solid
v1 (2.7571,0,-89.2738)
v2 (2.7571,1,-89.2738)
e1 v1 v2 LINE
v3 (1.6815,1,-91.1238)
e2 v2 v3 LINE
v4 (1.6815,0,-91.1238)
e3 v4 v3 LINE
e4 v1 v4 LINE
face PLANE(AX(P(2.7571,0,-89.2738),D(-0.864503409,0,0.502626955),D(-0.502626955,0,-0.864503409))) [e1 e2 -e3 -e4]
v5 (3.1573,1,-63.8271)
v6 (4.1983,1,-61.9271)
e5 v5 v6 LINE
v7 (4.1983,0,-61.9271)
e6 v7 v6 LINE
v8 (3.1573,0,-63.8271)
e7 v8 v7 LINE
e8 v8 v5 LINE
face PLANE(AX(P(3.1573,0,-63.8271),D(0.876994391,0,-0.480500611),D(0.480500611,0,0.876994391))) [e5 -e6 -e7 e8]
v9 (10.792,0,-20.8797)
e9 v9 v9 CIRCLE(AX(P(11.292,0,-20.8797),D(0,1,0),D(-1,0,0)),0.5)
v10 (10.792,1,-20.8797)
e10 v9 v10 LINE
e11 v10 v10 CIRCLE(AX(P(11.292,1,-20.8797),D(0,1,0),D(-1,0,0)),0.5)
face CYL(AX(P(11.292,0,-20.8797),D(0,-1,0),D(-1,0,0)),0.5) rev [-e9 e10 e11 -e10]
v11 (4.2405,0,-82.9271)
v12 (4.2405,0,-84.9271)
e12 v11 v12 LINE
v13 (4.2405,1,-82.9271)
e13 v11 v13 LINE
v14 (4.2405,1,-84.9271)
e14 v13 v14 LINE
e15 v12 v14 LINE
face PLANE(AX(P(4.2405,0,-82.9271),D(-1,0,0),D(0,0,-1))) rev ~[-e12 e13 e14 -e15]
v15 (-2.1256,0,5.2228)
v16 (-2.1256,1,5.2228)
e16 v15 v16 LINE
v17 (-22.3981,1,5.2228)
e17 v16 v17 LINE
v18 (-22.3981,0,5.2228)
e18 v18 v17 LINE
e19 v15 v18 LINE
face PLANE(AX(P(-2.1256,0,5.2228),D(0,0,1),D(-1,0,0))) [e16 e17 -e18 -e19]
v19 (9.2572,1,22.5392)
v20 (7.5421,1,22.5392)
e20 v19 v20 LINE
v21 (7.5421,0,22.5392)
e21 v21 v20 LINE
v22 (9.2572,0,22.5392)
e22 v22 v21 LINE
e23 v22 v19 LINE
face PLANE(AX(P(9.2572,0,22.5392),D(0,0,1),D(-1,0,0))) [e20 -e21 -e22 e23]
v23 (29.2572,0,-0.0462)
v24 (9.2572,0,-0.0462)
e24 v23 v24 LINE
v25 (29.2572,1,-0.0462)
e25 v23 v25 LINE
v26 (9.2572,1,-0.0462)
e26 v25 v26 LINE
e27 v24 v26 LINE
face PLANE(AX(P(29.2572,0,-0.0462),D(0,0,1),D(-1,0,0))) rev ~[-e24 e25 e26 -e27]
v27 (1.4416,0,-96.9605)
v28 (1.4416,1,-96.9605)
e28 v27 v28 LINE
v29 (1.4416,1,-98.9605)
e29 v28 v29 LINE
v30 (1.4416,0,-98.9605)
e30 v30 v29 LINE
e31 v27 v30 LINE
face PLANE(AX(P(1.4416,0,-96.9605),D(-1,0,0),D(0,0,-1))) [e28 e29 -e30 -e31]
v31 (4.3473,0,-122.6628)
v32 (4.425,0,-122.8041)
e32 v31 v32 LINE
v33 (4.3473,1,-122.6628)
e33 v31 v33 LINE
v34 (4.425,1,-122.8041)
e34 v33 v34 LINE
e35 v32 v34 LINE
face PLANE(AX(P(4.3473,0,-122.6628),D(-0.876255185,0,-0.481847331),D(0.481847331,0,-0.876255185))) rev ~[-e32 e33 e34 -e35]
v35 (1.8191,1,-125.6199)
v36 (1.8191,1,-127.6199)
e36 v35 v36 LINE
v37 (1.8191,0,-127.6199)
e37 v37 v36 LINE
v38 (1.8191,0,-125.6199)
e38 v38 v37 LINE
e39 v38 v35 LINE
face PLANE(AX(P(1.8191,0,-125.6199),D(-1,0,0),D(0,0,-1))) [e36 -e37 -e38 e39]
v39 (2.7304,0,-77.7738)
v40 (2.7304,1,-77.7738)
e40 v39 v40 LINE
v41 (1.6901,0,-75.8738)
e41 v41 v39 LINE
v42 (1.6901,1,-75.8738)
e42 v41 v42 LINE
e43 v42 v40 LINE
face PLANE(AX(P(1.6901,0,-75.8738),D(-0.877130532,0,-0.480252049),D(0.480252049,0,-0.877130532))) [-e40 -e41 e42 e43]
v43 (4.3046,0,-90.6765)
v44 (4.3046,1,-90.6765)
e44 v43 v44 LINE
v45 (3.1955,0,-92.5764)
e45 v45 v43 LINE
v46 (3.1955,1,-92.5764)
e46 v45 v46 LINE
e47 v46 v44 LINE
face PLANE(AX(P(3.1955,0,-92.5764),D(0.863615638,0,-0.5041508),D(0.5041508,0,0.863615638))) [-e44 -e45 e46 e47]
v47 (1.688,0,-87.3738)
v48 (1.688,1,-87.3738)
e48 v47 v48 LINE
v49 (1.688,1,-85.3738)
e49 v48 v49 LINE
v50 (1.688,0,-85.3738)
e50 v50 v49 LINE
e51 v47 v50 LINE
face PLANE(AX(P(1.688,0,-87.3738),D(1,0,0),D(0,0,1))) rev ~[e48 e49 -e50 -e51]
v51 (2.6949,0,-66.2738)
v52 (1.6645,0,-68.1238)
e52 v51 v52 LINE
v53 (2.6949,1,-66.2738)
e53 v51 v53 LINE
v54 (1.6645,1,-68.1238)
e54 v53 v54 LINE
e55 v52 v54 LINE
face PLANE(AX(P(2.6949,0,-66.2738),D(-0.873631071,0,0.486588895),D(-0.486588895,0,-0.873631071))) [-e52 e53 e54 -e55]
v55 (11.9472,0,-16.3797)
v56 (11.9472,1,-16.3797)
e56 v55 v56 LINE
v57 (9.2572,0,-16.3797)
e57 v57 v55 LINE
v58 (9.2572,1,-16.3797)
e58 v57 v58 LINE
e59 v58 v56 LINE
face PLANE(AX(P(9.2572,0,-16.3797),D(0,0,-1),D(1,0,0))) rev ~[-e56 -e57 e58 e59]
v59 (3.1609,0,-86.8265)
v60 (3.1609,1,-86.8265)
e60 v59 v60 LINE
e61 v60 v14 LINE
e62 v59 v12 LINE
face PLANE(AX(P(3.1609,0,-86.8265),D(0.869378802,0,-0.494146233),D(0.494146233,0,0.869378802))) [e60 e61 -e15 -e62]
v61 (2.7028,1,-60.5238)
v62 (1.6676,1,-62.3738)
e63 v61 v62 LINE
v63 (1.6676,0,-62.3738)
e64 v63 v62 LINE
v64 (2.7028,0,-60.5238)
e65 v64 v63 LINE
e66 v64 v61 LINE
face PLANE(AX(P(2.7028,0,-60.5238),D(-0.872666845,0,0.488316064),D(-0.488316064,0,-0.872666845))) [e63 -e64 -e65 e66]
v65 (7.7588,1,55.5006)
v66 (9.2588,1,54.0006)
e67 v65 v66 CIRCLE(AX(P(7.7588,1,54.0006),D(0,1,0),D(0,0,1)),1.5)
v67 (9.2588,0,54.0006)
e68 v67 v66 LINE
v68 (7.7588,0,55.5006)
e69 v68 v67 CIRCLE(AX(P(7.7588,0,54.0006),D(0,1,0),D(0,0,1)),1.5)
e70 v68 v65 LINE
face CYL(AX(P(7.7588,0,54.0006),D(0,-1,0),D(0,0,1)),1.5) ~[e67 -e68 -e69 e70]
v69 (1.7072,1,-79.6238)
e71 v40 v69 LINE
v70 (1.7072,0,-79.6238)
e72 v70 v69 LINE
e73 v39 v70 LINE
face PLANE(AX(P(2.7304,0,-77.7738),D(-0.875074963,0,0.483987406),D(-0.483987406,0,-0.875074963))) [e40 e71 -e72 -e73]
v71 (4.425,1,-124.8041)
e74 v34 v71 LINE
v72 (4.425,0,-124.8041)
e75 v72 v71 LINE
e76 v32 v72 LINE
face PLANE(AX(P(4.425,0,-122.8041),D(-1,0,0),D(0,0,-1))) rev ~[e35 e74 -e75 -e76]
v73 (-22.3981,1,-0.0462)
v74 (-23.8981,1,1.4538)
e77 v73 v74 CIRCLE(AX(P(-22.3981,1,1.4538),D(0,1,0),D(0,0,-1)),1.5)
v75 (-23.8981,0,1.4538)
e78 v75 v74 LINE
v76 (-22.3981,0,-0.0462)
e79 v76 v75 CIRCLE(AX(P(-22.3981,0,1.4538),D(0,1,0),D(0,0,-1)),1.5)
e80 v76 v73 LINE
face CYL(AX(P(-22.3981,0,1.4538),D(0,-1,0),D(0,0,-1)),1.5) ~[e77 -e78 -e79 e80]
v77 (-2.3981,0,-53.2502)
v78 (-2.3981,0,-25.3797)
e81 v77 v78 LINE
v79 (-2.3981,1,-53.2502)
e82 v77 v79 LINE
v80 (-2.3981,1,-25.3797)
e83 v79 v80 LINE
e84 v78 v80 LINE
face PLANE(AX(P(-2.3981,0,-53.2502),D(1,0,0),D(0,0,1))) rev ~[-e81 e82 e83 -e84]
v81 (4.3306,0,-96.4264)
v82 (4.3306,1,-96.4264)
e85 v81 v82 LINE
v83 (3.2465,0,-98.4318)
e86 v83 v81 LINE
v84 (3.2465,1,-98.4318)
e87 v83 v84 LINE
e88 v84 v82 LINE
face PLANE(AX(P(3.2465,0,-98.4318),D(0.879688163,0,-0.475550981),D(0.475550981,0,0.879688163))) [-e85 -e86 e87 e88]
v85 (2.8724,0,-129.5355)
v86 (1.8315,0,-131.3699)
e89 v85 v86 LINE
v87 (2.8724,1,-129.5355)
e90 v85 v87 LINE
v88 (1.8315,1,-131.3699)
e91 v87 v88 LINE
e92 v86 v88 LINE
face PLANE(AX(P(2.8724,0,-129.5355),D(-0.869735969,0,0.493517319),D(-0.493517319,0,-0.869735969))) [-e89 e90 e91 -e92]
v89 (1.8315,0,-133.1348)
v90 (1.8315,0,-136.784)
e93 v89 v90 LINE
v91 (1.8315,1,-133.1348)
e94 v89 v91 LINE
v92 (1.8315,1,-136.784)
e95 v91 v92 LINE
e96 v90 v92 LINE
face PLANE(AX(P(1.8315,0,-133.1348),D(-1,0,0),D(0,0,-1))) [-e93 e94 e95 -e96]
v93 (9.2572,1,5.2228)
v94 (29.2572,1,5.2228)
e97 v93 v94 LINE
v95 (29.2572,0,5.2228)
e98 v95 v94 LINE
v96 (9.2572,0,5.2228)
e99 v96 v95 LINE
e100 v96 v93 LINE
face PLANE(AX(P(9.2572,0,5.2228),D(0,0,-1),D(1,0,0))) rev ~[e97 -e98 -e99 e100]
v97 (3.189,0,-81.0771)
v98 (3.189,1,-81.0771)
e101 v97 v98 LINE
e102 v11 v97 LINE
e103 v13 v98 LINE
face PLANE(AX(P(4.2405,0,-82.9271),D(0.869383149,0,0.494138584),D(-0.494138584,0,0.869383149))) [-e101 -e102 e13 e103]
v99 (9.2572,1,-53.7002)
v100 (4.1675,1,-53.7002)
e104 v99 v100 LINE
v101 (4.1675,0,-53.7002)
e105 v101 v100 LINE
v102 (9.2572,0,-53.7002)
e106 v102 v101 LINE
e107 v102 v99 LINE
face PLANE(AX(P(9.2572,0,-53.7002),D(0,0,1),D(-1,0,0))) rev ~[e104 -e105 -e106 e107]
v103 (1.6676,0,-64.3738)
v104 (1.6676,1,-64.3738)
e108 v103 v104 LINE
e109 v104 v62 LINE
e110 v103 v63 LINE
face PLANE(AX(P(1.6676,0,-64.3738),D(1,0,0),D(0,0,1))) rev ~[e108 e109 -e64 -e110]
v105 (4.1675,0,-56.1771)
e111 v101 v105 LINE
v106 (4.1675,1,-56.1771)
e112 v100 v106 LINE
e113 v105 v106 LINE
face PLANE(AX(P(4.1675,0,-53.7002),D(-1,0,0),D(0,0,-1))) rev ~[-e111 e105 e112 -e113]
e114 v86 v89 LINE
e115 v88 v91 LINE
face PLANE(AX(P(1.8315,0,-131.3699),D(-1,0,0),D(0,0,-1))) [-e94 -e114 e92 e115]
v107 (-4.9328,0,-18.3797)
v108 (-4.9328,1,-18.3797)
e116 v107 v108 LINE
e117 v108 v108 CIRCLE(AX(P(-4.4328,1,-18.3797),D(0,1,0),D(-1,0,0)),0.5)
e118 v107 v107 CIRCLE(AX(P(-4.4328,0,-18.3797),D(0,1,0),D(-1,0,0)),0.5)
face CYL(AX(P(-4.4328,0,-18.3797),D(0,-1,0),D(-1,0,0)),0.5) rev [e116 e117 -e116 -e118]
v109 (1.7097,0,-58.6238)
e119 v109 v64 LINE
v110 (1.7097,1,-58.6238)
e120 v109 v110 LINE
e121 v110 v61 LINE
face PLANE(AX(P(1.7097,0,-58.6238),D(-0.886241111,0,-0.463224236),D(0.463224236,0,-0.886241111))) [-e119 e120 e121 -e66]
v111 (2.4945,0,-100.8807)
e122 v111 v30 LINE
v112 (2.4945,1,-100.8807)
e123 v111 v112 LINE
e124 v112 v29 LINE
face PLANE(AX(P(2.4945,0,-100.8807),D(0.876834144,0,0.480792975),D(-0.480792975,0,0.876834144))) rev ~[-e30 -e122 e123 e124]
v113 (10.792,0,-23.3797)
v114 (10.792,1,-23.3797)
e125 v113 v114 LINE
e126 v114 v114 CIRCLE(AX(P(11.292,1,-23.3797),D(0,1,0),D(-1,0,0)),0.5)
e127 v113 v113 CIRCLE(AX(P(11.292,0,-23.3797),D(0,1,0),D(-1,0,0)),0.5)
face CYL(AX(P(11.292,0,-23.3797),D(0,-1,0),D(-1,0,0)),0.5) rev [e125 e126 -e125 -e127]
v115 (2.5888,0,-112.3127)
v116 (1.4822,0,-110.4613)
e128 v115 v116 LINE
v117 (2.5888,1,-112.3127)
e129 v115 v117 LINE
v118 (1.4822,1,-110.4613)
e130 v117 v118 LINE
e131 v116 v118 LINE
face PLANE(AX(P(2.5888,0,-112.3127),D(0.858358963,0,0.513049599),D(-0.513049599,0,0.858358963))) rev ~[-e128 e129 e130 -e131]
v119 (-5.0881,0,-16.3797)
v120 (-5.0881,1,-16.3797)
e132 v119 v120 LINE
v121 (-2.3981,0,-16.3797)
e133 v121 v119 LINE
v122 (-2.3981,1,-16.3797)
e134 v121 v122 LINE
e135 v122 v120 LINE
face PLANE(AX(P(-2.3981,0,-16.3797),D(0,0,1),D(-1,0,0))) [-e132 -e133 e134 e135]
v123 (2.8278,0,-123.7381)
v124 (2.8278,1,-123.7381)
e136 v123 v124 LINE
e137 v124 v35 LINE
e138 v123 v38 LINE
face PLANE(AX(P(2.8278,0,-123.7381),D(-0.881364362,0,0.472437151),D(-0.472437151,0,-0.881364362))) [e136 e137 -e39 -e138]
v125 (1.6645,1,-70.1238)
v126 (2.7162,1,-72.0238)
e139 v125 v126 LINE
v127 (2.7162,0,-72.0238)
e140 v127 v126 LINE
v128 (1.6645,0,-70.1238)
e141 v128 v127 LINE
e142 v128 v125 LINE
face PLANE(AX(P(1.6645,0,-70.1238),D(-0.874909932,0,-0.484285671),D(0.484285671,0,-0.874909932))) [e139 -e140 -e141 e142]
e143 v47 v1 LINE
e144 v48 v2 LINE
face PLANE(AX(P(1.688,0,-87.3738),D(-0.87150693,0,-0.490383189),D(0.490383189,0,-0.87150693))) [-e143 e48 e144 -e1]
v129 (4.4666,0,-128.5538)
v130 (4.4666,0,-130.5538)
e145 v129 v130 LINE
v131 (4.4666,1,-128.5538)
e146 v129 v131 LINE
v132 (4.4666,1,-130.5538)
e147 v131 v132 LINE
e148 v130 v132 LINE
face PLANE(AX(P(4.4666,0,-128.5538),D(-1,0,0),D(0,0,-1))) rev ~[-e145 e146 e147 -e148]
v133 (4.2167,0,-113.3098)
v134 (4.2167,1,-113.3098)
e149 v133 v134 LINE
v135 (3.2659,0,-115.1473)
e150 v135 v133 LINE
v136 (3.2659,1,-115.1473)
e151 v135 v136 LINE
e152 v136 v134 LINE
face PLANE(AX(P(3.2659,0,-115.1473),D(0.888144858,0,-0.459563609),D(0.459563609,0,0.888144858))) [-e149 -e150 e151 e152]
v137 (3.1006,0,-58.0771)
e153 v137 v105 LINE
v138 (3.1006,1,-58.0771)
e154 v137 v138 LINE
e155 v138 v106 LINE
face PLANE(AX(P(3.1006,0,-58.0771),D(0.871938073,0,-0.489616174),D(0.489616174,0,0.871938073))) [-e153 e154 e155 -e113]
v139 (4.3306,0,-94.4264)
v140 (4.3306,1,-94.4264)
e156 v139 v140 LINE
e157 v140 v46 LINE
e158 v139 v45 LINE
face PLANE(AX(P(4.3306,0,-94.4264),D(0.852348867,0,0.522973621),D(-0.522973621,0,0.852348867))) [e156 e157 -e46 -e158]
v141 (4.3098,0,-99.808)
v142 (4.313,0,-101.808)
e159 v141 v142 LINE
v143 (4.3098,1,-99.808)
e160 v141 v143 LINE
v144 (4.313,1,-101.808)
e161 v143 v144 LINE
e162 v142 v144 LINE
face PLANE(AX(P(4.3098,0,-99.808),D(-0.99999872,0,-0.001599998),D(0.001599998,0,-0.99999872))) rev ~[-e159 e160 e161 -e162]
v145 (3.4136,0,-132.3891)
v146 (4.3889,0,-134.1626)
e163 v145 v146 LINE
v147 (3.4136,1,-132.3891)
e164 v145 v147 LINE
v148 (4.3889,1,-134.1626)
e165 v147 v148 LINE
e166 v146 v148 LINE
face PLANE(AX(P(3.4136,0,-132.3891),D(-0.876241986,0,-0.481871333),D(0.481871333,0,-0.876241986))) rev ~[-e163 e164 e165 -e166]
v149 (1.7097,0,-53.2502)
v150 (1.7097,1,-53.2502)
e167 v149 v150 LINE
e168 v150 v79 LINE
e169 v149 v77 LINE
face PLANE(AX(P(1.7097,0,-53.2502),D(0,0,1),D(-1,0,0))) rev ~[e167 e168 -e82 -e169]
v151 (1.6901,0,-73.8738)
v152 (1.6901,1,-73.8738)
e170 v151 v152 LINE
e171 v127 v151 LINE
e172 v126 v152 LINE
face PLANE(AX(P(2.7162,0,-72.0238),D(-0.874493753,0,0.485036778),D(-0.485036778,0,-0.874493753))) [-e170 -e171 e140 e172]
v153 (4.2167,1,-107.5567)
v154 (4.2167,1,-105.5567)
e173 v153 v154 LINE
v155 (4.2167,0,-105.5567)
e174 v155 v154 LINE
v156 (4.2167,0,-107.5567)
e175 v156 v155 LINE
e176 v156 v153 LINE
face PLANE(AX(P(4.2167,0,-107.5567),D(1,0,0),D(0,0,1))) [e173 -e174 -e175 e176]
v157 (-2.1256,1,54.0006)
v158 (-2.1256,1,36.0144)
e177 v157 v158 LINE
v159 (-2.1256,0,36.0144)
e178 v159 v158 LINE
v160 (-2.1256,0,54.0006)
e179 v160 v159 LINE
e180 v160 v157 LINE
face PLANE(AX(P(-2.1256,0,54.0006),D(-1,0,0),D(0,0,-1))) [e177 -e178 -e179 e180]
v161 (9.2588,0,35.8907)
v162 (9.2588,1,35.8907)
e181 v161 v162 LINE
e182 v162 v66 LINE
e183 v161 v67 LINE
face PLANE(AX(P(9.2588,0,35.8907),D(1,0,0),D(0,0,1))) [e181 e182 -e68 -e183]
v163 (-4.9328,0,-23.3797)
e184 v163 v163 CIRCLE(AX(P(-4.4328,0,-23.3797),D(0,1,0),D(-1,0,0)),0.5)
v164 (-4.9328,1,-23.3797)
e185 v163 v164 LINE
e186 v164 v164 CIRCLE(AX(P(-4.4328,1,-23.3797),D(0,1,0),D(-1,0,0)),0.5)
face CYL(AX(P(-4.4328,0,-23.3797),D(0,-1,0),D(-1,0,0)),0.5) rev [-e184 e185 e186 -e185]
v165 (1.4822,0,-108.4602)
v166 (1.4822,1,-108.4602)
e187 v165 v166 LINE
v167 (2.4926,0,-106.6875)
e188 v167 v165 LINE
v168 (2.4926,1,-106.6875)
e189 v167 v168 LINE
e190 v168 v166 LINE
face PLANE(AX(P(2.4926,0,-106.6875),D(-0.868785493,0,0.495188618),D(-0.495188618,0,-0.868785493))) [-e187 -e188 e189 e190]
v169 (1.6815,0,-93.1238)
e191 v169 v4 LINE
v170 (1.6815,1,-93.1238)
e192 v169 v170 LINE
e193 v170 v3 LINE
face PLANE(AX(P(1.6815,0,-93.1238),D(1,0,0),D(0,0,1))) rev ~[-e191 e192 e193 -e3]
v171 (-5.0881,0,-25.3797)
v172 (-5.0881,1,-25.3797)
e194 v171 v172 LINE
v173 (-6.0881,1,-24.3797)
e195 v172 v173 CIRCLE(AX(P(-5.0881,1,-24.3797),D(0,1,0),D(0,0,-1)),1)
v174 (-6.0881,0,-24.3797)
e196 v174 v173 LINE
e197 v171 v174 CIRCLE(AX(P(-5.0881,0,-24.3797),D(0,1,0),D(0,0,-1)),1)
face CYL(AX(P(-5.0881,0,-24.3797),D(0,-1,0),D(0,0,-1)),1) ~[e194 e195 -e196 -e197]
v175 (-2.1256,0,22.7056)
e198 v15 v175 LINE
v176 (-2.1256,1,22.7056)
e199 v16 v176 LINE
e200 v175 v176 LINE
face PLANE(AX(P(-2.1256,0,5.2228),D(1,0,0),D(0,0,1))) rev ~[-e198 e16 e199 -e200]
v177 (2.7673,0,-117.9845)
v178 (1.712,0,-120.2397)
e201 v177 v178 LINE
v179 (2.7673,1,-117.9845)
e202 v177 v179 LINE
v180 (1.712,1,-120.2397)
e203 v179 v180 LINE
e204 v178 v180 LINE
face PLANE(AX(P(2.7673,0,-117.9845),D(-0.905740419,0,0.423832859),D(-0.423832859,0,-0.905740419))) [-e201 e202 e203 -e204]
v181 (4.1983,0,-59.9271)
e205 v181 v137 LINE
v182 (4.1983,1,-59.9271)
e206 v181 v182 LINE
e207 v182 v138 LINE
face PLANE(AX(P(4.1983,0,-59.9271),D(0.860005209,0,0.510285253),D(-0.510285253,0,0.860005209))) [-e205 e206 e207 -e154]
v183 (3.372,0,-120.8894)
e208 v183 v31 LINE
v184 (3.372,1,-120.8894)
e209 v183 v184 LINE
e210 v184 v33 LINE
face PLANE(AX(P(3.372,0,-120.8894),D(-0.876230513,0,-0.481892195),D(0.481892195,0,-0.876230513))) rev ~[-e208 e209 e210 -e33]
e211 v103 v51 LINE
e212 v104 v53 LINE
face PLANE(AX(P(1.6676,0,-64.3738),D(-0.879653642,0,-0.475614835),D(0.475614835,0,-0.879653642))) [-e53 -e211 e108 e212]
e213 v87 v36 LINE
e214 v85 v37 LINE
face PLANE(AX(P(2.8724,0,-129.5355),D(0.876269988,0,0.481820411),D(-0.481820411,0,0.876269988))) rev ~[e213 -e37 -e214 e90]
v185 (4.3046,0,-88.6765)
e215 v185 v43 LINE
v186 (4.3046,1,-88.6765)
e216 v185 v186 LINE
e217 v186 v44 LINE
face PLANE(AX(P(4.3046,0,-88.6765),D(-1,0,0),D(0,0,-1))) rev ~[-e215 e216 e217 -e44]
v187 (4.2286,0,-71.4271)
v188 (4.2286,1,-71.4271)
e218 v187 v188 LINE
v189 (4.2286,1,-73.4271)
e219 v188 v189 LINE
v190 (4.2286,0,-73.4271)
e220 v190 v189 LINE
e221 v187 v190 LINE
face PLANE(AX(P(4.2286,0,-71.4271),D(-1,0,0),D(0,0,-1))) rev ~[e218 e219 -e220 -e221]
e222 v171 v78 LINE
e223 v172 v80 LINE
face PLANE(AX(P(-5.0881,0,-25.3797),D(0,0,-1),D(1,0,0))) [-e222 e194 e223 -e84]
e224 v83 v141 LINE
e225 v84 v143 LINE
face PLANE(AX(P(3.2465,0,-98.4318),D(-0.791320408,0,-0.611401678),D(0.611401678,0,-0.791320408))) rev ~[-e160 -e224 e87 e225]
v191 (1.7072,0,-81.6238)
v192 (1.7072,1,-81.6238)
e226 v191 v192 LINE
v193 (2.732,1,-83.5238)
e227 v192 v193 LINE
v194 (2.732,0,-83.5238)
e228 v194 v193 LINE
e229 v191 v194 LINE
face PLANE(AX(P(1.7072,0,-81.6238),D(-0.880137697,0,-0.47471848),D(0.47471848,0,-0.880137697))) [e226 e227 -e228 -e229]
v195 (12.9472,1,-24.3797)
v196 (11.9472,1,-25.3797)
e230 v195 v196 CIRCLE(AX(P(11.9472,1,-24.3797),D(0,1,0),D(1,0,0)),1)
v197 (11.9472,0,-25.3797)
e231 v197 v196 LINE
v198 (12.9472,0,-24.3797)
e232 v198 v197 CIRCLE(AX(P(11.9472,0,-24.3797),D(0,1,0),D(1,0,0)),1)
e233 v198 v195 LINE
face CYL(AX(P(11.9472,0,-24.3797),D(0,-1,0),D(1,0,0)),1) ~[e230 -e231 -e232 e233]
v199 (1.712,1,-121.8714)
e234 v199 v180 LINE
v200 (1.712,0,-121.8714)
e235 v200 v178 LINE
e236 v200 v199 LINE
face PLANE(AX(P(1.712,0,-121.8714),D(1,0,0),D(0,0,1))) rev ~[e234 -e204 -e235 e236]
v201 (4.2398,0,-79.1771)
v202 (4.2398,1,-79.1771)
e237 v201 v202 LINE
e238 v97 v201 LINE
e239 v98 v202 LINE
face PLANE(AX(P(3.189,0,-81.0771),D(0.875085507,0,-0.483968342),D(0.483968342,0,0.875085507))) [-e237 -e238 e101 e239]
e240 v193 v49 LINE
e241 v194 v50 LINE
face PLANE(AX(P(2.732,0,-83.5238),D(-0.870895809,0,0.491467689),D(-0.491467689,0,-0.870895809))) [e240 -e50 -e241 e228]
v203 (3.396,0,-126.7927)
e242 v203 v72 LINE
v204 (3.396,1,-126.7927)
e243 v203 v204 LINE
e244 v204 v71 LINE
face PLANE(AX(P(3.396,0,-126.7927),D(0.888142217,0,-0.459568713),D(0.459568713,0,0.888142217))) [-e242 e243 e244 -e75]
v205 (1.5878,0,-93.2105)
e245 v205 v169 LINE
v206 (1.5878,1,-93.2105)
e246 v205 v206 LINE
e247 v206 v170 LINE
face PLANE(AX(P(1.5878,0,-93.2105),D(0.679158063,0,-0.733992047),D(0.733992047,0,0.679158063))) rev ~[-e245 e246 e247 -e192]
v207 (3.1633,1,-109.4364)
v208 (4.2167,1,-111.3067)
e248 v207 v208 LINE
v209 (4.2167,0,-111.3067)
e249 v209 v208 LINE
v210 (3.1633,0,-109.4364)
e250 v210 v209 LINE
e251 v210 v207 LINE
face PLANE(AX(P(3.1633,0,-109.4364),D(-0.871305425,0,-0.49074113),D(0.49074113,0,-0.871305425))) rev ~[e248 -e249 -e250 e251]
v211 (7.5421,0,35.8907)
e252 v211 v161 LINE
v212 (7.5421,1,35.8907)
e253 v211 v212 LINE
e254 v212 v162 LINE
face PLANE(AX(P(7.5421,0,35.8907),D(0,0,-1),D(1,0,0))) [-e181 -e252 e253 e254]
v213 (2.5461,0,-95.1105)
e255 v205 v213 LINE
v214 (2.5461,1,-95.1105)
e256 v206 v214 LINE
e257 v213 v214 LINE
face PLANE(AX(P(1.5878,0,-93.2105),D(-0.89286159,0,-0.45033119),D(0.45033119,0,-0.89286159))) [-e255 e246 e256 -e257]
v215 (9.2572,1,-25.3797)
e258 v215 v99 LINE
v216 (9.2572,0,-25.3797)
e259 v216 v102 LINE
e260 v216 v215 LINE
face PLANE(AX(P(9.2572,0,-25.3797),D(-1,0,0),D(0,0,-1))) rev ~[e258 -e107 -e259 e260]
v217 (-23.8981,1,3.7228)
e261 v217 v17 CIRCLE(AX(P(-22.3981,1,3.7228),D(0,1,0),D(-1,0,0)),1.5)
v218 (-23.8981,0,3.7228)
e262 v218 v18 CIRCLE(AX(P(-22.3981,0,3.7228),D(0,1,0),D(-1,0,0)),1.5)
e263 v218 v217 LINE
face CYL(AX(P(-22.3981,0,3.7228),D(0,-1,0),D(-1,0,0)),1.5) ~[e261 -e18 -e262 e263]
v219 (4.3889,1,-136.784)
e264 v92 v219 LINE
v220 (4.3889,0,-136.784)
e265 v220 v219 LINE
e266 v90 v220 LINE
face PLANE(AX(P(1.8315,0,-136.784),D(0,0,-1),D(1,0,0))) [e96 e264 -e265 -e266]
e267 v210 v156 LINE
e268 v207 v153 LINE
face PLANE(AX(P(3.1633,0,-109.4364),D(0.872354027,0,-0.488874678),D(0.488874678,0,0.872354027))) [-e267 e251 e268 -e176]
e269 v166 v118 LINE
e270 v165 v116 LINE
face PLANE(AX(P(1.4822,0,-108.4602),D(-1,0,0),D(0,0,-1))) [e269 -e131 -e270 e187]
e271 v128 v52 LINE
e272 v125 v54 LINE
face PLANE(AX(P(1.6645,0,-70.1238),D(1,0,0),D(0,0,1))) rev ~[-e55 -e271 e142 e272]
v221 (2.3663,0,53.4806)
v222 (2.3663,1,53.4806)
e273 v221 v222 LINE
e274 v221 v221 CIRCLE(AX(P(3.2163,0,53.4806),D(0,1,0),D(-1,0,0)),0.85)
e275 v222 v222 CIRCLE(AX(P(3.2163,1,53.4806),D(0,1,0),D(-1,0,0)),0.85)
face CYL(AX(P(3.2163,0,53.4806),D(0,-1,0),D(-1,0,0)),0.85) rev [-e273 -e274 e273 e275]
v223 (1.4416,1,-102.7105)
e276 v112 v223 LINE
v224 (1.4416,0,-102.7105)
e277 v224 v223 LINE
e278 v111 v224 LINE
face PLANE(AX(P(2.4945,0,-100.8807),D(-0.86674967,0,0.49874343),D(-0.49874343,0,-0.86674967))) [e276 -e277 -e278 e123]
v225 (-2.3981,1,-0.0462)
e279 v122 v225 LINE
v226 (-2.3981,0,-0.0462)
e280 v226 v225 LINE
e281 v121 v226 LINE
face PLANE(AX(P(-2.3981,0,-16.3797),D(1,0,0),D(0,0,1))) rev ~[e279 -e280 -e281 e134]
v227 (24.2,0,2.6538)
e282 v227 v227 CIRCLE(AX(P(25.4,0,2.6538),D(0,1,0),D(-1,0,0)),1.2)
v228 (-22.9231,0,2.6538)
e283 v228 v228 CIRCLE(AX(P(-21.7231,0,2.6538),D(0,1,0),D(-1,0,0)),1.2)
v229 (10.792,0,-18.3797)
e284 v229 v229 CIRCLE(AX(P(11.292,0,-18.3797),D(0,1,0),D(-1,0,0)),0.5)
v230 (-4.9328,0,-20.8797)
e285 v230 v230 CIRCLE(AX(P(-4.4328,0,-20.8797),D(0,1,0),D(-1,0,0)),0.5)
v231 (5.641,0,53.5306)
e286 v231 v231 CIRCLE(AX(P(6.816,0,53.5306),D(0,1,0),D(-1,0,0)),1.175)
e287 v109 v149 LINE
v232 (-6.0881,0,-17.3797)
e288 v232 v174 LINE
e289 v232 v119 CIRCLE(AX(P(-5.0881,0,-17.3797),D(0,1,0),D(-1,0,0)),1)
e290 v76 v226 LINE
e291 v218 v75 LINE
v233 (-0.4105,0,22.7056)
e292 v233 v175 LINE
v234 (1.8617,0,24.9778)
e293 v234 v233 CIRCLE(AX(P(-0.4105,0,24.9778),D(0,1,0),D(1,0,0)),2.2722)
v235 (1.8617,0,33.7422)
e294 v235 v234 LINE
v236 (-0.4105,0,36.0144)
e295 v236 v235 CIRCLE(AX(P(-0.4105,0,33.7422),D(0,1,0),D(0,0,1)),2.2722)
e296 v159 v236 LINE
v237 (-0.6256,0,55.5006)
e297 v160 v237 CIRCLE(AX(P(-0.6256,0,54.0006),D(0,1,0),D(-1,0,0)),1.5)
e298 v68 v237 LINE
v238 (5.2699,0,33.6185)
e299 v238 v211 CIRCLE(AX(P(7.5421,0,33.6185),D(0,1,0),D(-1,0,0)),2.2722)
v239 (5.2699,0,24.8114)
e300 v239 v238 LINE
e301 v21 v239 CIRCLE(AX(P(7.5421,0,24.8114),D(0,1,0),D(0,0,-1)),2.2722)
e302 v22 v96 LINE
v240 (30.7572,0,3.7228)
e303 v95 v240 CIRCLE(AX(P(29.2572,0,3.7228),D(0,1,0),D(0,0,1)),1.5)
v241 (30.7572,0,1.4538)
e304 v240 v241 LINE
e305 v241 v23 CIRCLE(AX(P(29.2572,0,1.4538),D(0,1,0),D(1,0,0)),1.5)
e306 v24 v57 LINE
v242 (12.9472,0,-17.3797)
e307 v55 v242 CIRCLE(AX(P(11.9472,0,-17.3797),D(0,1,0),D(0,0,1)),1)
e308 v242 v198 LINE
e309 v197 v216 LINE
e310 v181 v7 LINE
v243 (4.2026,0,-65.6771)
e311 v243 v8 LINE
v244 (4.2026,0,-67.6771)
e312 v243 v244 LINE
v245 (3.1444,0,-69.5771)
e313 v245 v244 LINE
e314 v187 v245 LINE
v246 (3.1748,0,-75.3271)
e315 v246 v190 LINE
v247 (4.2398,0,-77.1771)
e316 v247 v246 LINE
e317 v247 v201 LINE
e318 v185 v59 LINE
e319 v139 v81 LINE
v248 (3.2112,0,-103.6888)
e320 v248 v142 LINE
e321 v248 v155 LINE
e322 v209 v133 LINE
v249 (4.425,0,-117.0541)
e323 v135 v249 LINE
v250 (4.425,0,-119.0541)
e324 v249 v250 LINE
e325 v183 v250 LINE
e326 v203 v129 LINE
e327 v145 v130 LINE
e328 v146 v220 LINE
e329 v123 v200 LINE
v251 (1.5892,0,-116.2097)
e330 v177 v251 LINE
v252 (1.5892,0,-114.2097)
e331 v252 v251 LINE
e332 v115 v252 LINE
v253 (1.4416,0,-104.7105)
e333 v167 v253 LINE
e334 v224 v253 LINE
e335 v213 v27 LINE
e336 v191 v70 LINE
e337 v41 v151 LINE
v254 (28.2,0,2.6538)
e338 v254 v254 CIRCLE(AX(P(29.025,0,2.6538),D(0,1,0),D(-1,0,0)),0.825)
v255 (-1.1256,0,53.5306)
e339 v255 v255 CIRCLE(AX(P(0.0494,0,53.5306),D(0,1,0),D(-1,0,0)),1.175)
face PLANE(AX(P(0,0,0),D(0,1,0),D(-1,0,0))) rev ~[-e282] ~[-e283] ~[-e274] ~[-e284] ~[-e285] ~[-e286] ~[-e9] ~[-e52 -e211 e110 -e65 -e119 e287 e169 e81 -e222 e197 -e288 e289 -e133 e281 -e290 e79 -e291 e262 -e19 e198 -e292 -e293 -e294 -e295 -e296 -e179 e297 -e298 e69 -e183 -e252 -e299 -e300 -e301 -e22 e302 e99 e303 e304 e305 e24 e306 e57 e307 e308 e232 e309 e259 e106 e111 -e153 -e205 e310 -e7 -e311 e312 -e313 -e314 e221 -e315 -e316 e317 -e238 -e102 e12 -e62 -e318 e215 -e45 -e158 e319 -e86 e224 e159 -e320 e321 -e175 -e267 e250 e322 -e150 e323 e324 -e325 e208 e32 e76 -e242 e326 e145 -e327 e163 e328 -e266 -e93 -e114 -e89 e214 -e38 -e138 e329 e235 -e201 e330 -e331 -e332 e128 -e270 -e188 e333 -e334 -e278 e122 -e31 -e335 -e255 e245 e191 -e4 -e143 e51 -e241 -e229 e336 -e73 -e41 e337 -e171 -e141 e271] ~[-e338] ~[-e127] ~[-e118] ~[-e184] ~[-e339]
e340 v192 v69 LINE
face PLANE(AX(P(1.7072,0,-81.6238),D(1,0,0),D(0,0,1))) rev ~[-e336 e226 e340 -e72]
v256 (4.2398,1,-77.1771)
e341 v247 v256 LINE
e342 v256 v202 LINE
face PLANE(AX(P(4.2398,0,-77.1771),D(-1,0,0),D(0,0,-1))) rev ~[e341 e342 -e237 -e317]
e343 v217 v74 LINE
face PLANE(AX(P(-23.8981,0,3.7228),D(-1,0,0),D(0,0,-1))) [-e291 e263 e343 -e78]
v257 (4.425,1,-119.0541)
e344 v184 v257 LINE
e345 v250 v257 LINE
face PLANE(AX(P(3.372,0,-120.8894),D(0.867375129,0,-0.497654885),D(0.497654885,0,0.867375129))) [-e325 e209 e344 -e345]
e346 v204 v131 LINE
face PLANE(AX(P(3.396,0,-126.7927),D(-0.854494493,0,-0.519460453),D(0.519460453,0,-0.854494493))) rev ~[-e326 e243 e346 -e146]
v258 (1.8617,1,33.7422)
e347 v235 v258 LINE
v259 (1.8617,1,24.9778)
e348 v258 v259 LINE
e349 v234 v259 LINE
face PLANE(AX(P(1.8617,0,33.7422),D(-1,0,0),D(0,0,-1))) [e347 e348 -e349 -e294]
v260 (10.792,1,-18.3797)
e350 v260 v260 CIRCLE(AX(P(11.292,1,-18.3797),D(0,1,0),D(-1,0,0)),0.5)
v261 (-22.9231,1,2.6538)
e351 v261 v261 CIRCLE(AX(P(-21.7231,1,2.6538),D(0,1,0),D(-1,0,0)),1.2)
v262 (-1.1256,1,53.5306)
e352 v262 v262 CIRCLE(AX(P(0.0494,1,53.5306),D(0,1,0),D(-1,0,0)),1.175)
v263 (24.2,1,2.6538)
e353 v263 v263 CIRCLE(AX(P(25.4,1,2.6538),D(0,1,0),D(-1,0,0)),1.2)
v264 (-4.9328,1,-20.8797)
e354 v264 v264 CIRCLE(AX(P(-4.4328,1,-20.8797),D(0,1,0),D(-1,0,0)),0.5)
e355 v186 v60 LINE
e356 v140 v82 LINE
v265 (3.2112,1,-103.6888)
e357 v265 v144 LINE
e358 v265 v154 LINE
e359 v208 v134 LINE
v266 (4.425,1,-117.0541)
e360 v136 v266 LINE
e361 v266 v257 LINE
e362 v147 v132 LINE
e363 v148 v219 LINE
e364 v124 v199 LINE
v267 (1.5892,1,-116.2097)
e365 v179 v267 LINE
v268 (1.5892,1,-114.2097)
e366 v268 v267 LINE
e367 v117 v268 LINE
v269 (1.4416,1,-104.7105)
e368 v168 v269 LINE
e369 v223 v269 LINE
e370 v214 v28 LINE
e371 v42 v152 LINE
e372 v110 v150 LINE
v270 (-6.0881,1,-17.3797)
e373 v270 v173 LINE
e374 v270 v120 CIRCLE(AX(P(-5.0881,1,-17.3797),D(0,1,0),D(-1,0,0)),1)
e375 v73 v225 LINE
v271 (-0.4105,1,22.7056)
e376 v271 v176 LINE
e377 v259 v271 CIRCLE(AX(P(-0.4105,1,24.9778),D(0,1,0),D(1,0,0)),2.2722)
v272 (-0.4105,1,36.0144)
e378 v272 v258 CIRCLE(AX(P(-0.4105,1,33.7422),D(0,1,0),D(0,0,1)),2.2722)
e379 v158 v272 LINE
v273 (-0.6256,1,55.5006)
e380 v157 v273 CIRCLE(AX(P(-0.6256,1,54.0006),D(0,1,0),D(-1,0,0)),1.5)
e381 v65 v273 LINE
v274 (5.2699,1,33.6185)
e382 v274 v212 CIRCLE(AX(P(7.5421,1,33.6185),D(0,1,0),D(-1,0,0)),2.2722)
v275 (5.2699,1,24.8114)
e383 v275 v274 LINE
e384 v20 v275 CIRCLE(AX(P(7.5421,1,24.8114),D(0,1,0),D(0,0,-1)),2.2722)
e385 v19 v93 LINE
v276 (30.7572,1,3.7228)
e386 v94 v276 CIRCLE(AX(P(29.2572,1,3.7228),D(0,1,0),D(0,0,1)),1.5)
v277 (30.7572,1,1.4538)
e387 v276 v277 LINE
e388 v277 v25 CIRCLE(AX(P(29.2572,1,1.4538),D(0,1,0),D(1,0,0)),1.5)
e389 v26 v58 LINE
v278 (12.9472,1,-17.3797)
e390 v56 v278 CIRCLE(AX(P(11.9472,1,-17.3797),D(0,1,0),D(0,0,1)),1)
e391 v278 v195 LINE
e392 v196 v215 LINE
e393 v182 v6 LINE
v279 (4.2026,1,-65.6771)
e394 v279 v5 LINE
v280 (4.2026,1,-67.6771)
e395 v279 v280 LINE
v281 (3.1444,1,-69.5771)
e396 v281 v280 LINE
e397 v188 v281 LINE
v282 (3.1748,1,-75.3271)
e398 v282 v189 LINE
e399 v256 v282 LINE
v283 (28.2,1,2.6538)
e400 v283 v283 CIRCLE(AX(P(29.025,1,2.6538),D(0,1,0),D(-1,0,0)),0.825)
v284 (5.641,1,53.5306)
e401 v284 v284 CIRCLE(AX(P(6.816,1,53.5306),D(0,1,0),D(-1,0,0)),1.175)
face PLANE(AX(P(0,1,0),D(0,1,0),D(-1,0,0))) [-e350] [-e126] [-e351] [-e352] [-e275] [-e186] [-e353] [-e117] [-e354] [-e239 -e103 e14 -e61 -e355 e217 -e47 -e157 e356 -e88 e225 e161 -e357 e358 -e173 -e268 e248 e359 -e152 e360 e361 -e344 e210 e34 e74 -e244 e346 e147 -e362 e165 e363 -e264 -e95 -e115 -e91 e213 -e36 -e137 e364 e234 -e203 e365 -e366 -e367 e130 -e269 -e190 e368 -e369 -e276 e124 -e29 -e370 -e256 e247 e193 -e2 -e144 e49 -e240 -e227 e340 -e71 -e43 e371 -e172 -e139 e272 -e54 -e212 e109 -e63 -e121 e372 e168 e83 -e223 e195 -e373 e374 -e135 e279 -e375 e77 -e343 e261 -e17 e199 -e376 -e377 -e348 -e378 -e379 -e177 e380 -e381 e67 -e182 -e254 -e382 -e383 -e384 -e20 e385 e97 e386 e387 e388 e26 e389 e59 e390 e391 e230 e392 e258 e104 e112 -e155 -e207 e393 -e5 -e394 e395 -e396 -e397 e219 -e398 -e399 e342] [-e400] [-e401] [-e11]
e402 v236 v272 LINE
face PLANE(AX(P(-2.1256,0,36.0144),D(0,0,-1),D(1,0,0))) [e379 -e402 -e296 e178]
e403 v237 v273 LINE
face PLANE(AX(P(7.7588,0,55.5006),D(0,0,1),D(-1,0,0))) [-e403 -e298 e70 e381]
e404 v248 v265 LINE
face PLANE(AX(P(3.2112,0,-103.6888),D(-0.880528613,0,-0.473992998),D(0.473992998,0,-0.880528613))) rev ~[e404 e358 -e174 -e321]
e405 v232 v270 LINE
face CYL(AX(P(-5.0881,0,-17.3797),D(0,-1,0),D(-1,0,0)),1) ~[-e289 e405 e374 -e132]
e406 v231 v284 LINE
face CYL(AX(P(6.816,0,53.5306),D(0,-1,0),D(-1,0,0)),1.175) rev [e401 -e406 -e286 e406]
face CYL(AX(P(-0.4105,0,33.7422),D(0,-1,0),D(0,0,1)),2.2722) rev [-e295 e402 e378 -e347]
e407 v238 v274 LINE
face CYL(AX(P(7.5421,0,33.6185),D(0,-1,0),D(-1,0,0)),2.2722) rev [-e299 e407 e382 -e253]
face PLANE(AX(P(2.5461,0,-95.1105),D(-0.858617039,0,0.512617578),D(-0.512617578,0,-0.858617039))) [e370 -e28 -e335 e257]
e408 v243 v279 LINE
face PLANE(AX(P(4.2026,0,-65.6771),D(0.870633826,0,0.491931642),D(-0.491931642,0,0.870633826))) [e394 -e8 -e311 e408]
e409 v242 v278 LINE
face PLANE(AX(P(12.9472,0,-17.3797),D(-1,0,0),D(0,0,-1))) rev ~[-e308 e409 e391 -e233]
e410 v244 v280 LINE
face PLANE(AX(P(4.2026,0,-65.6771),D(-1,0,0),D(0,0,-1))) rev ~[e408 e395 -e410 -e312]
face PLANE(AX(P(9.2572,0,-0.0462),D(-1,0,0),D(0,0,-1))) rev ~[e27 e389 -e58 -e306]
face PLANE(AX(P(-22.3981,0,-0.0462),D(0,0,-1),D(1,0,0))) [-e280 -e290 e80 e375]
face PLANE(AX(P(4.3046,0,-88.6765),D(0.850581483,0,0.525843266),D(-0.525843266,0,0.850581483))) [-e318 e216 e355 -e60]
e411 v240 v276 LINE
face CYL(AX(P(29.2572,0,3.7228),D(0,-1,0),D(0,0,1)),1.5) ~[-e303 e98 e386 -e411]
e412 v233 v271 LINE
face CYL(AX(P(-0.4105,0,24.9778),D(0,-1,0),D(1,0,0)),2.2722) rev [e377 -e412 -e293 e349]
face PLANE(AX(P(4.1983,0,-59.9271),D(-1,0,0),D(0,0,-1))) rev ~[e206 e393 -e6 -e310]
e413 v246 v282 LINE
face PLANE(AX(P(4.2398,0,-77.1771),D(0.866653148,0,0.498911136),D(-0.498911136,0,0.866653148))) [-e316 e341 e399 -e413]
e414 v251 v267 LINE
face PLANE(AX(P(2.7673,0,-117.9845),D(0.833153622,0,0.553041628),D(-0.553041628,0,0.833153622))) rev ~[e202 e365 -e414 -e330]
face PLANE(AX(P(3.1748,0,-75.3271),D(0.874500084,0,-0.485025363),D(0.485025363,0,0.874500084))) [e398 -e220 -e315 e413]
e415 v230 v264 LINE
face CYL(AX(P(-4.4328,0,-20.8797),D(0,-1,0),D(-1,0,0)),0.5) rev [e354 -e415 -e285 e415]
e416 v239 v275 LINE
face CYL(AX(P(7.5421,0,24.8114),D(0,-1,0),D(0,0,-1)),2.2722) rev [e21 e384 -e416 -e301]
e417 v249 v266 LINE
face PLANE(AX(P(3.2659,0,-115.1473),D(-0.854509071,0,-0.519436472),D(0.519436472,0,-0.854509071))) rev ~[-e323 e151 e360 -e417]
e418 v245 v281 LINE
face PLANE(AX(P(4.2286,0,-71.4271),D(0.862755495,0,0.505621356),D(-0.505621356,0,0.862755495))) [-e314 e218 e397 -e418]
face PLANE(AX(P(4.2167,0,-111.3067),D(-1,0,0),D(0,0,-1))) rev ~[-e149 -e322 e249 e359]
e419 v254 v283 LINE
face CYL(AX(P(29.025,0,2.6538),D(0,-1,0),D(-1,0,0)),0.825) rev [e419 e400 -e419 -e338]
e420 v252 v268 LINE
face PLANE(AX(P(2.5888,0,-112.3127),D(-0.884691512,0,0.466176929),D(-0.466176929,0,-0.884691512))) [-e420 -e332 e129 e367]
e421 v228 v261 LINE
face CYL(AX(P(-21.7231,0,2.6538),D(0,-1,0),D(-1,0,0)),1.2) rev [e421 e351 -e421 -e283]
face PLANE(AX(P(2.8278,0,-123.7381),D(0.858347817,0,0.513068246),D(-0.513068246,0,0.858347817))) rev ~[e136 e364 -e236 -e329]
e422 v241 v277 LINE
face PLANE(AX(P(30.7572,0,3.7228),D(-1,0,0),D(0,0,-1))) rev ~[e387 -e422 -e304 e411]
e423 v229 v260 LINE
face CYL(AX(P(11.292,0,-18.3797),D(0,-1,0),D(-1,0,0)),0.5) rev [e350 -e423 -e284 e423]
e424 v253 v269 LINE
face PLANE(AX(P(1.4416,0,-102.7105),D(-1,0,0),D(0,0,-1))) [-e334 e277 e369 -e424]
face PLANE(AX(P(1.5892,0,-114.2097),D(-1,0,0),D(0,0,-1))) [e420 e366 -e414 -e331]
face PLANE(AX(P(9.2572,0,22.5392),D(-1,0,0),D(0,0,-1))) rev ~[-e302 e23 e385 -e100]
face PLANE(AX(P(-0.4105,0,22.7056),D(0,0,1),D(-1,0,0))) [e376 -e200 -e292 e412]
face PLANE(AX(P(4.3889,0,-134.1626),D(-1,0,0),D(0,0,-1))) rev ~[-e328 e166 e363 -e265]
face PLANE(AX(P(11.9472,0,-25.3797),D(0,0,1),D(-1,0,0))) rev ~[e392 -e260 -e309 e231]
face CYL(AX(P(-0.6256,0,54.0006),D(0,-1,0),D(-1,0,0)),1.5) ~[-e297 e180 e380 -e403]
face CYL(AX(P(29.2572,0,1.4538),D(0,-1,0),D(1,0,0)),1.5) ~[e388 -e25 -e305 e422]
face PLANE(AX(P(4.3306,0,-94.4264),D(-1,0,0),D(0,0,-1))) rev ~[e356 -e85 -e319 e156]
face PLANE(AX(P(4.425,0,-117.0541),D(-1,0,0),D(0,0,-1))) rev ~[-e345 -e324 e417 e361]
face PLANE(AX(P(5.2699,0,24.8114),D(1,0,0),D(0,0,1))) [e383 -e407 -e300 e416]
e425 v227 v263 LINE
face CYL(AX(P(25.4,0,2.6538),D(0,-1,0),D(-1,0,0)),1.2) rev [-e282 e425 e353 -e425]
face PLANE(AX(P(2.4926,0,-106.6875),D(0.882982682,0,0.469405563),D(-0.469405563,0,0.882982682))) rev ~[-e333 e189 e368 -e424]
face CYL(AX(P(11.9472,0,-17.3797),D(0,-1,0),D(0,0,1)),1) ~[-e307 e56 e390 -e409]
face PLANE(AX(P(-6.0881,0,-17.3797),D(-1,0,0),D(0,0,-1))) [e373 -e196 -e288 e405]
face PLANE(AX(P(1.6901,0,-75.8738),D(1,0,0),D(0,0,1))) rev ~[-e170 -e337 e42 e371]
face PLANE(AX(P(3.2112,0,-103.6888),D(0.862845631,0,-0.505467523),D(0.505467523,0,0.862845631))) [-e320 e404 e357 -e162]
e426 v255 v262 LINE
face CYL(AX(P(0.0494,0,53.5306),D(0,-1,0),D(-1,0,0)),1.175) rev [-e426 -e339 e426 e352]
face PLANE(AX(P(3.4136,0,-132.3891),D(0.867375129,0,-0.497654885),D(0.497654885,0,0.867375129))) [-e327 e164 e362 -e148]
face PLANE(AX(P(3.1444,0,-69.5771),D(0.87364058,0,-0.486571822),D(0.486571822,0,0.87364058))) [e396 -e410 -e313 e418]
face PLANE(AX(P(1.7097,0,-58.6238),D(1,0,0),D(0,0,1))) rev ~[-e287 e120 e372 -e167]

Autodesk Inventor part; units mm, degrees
ref_plane "YZ Plane" through (0, 0, 0) normal (1, 0, 0) x (0, 1, 0)
ref_plane "XZ Plane" through (0, 0, 0) normal (0, 1, 0) x (-1, 0, 0)
ref_plane "XY Plane" through (0, 0, 0) normal (0, 0, 1) x (1, 0, 0)
sketch "Sketch1" plane through (0, 0, 0) normal (0, 1, 0) x (-1, 0, 0)
  line L0 (-9.2572, 22.5392) -> (-9.2572, 5.2228)
  line L1 (-9.2588, 35.8907) -> (-9.2588, 54.0006)
  line L2 (-7.7588, 55.5006) -> (0.6256, 55.5006)
  line L3 (2.1256, 54.0006) -> (2.1256, 36.0144)
  circle A0 centre (-0.0494, 53.5306) radius 1.175
  circle A1 centre (-6.816, 53.5306) radius 1.175
  line L4 (-9.2572, 22.5392) -> (-7.5421, 22.5392)
  line L5 (-5.2699, 24.8114) -> (-5.2699, 33.6185)
  line L6 (-7.5421, 35.8907) -> (-9.2588, 35.8907)
  line L7 (2.1256, 36.0144) -> (0.4105, 36.0144)
  line L8 (-1.8617, 33.7422) -> (-1.8617, 24.9778)
  line L9 (0.4105, 22.7056) -> (2.1256, 22.7056)
  arc A2 (0.4105, 36.0144) -> (-1.8617, 33.7422) centre (0.4105, 33.7422) ccw
  arc A3 (-1.8617, 24.9778) -> (0.4105, 22.7056) centre (0.4105, 24.9778) ccw
  arc A4 (-7.5421, 22.5392) -> (-5.2699, 24.8114) centre (-7.5421, 24.8114) ccw
  arc A5 (-5.2699, 33.6185) -> (-7.5421, 35.8907) centre (-7.5421, 33.6185) ccw
  line L10 (2.1256, 5.2228) -> (22.3981, 5.2228)
  line L11 (23.8981, 3.7228) -> (23.8981, 1.4538)
  line L12 (22.3981, -0.0462) -> (2.3981, -0.0462)
  line L13 (-9.2572, 5.2228) -> (-29.2572, 5.2228)
  line L14 (-30.7572, 3.7228) -> (-30.7572, 1.4538)
  line L15 (-29.2572, -0.0462) -> (-9.2572, -0.0462)
  line L16 (2.3981, -16.3797) -> (5.0881, -16.3797)
  line L17 (6.0881, -17.3797) -> (6.0881, -24.3797)
  line L18 (5.0881, -25.3797) -> (2.3981, -25.3797)
  line L19 (-9.2572, -16.3797) -> (-11.9472, -16.3797)
  line L20 (-12.9472, -17.3797) -> (-12.9472, -24.3797)
  line L21 (-11.9472, -25.3797) -> (-9.2572, -25.3797)
  circle A6 centre (-3.2163, 53.4806) radius 0.85
  circle A7 centre (-25.4, 2.6538) radius 1.2
  circle A8 centre (-29.025, 2.6538) radius 0.825
  circle A9 centre (21.7231, 2.6538) radius 1.2
  line L22 (-9.2572, -0.0462) -> (-9.2572, -16.3797)
  line L23 (2.1256, 5.2228) -> (2.1256, 22.7056)
  line L24 (2.3981, -16.3797) -> (2.3981, -0.0462)
  arc A10 (2.1256, 54.0006) -> (0.6256, 55.5006) centre (0.6256, 54.0006) ccw
  arc A11 (-7.7588, 55.5006) -> (-9.2588, 54.0006) centre (-7.7588, 54.0006) ccw
  arc A12 (22.3981, -0.0462) -> (23.8981, 1.4538) centre (22.3981, 1.4538) ccw
  arc A13 (23.8981, 3.7228) -> (22.3981, 5.2228) centre (22.3981, 3.7228) ccw
  arc A14 (-30.7572, 1.4538) -> (-29.2572, -0.0462) centre (-29.2572, 1.4538) ccw
  arc A15 (-29.2572, 5.2228) -> (-30.7572, 3.7228) centre (-29.2572, 3.7228) ccw
  line L25 (-3.1006, -58.0771) -> (-4.1675, -56.1771)
  line L26 (-3.1006, -58.0771) -> (-0.5618, -58.1074) construction
  line L27 (-4.1983, -59.9271) -> (-3.1006, -58.0771)
  line L28 (-3.1573, -63.8271) -> (-4.1983, -61.9271)
  line L29 (-4.2026, -65.6771) -> (-3.1573, -63.8271)
  line L30 (-3.1444, -69.5771) -> (-4.2026, -67.6771)
  line L31 (-4.2286, -71.4271) -> (-3.1444, -69.5771)
  line L32 (-3.1748, -75.3271) -> (-4.2286, -73.4271)
  line L33 (-4.2398, -77.1771) -> (-3.1748, -75.3271)
  line L34 (-3.189, -81.0771) -> (-4.2398, -79.1771)
  line L35 (-4.2405, -82.9271) -> (-3.189, -81.0771)
  line L36 (-3.1609, -86.8265) -> (-4.2405, -84.9271)
  line L37 (-4.3046, -88.6765) -> (-3.1609, -86.8265)
  line L38 (-3.1955, -92.5764) -> (-4.3046, -90.6765)
  line L39 (-4.3306, -94.4264) -> (-3.1955, -92.5764)
  line L40 (-3.2465, -98.4318) -> (-4.3306, -96.4264)
  line L41 (-2.7028, -60.5238) -> (-1.6676, -62.3738)
  line L42 (-1.7097, -58.6238) -> (-2.7028, -60.5238)
  line L43 (-2.6949, -66.2738) -> (-1.6645, -68.1238)
  line L44 (-1.6676, -64.3738) -> (-2.6949, -66.2738)
  line L45 (-2.7162, -72.0238) -> (-1.6901, -73.8738)
  line L46 (-1.6645, -70.1238) -> (-2.7162, -72.0238)
  line L47 (-2.7304, -77.7738) -> (-1.7072, -79.6238)
  line L48 (-1.6901, -75.8738) -> (-2.7304, -77.7738)
  line L49 (-2.732, -83.5238) -> (-1.688, -85.3738)
  line L50 (-1.7072, -81.6238) -> (-2.732, -83.5238)
  line L51 (-2.7571, -89.2738) -> (-1.6815, -91.1238)
  line L52 (-1.688, -87.3738) -> (-2.7571, -89.2738)
  line L53 (-2.5461, -95.1105) -> (-1.4416, -96.9605)
  line L54 (-1.5878, -93.2105) -> (-2.5461, -95.1105)
  line L55 (-1.5878, -93.2105) -> (-1.6815, -93.1238)
  line L56 (-4.3046, -88.6765) -> (-4.3046, -90.6765)
  line L57 (-4.3306, -94.4264) -> (-4.3306, -96.4264)
  line L58 (-4.2398, -77.1771) -> (-4.2398, -79.1771)
  line L59 (-4.2405, -82.9271) -> (-4.2405, -84.9271)
  line L60 (-4.1675, -53.7002) -> (-4.1675, -56.1771)
  line L61 (-4.1983, -59.9271) -> (-4.1983, -61.9271)
  line L62 (-4.2026, -65.6771) -> (-4.2026, -67.6771)
  line L63 (-4.2286, -71.4271) -> (-4.2286, -73.4271)
  line L64 (-1.6676, -64.3738) -> (-1.6676, -62.3738)
  line L65 (-1.6645, -70.1238) -> (-1.6645, -68.1238)
  line L66 (-1.6901, -75.8738) -> (-1.6901, -73.8738)
  line L67 (-1.7072, -81.6238) -> (-1.7072, -79.6238)
  line L68 (-1.6815, -93.1238) -> (-1.6815, -91.1238)
  line L69 (-1.688, -87.3738) -> (-1.688, -85.3738)
  line L70 (-3.372, -120.8894) -> (-4.3473, -122.6628)
  line L71 (-3.372, -120.8894) -> (-4.425, -119.0541)
  line L72 (-3.2465, -98.4318) -> (-4.3098, -99.808)
  line L73 (-3.2659, -115.1473) -> (-4.425, -117.0541)
  line L74 (-3.2659, -115.1473) -> (-4.2167, -113.3098)
  line L75 (-3.1633, -109.4364) -> (-4.2167, -111.3067)
  line L76 (-3.1633, -109.4364) -> (-4.2167, -107.5567)
  line L77 (-3.2112, -103.6888) -> (-4.2167, -105.5567)
  line L78 (-3.2112, -103.6888) -> (-4.313, -101.808)
  line L79 (-2.4945, -100.8807) -> (-1.4416, -98.9605)
  line L80 (-2.4945, -100.8807) -> (-1.4416, -102.7105)
  line L81 (-2.4926, -106.6875) -> (-1.4822, -108.4602)
  line L82 (-2.4926, -106.6875) -> (-1.4416, -104.7105)
  line L83 (-2.5888, -112.3127) -> (-1.5892, -114.2097)
  line L84 (-2.5888, -112.3127) -> (-1.4822, -110.4613)
  line L85 (-2.7673, -117.9845) -> (-1.712, -120.2397)
  line L86 (-2.7673, -117.9845) -> (-1.5892, -116.2097)
  line L87 (-4.3098, -99.808) -> (-4.313, -101.808)
  line L88 (-1.4416, -96.9605) -> (-1.4416, -98.9605)
  line L89 (-1.4416, -102.7105) -> (-1.4416, -104.7105)
  line L90 (-1.4822, -108.4602) -> (-1.4822, -110.4613)
  line L91 (-4.2167, -107.5567) -> (-4.2167, -105.5567)
  line L92 (-4.2167, -111.3067) -> (-4.2167, -113.3098)
  line L93 (-1.5892, -114.2097) -> (-1.5892, -116.2097)
  line L94 (-4.425, -117.0541) -> (-4.425, -119.0541)
  line L95 (2.3981, -53.2502) -> (2.3981, -25.3797)
  line L96 (-9.2572, -25.3797) -> (-9.2572, -53.7002)
  line L97 (-9.2572, -53.7002) -> (-4.1675, -53.7002)
  circle A16 centre (-11.292, -23.3797) radius 0.5
  circle A17 centre (-11.292, -18.3797) radius 0.5
  circle A18 centre (-11.292, -20.8797) radius 0.5
  circle A19 centre (4.4328, -18.3797) radius 0.5
  circle A20 centre (4.4328, -20.8797) radius 0.5
  circle A21 centre (4.4328, -23.3797) radius 0.5
  line L98 (-4.3473, -122.6628) -> (-4.425, -122.8041)
  line L99 (-3.4136, -132.3891) -> (-4.3889, -134.1626)
  line L100 (-3.4136, -132.3891) -> (-4.4666, -130.5538)
  line L101 (-3.396, -126.7927) -> (-4.425, -124.8041)
  line L102 (-3.396, -126.7927) -> (-4.4666, -128.5538)
  line L103 (-2.8724, -129.5355) -> (-1.8315, -131.3699)
  line L104 (-2.8724, -129.5355) -> (-1.8191, -127.6199)
  line L105 (-2.8278, -123.7381) -> (-1.712, -121.8714)
  line L106 (-2.8278, -123.7381) -> (-1.8191, -125.6199)
  line L107 (-4.425, -122.8041) -> (-4.425, -124.8041)
  line L108 (-1.8191, -125.6199) -> (-1.8191, -127.6199)
  line L109 (-4.4666, -128.5538) -> (-4.4666, -130.5538)
  line L110 (-1.712, -121.8714) -> (-1.712, -120.2397)
  line L111 (-1.8315, -131.3699) -> (-1.8315, -133.1348)
  line L112 (-1.8315, -133.1348) -> (-1.8315, -136.784)
  line L113 (-4.3889, -134.1626) -> (-4.3889, -136.784)
  line L114 (-1.8315, -136.784) -> (-4.3889, -136.784)
  line L115 (-1.7097, -58.6238) -> (-1.7097, -53.2502)
  line L116 (-1.7097, -53.2502) -> (2.3981, -53.2502)
  arc A22 (5.0881, -25.3797) -> (6.0881, -24.3797) centre (5.0881, -24.3797) ccw
  arc A23 (6.0881, -17.3797) -> (5.0881, -16.3797) centre (5.0881, -17.3797) ccw
  arc A24 (-11.9472, -16.3797) -> (-12.9472, -17.3797) centre (-11.9472, -17.3797) ccw
  arc A25 (-12.9472, -24.3797) -> (-11.9472, -25.3797) centre (-11.9472, -24.3797) ccw
  point P0 (-9.2588, 55.5006)
  point P1 (2.1256, 55.5006)
  point P2 (-6.9279, 18.3671)
  point P3 (-6.9323, 25.0551)
  point P4 (23.8981, -0.0462)
  point P5 (23.8981, 5.2228)
  point P6 (-30.7572, -0.0462)
  point P7 (-30.7572, 5.2228)
  point P8 (6.0881, -25.3797)
  point P9 (6.0881, -16.3797)
  point P10 (-12.9472, -25.3797)
  point P11 (-12.9472, -16.3797)
  point P12 (-4.1675, 717.4283)
  point P13 (-3.6778, -62.8771)
  point P14 (-3.7007, -85.8768)
  point P15 (-3.75, -91.6265)
  point P16 (-1.9939, -96.0355)
  point P17 (-3.68, -64.7521)
  point P18 (-9.2572, 13.881)
  point P19 (-9.2572, -8.2129)
  point P20 (-10.6022, -25.3797)
  point P21 (3.7431, -25.3797)
  point P22 (3.7431, -16.3797)
  dimension "d276" = 2.4
  dimension "d277" = 2.4
  dimension "d280" = 1.5
  dimension "d281" = 2.35
  dimension "d282" = 2.35
  dimension "d284" = 1.65
  dimension "d286" = 1.7
  dimension "d288" = 0.795
  dimension "d289" = 0.795
  dimension "d290" = 1.17
  dimension "d291" = 1.6
  dimension "d292" = 1.575
  dimension "d293" = 1.5
  dimension "d294" = 1.5
  dimension "d296" = 0.975
  dimension "d297" = 2.175
  dimension "d304" = 120
  dimension "d305" = 120
  dimension "d316" = 2
  dimension "d317" = 2
  dimension "d318" = 2
  dimension "d319" = 2
  dimension "d320" = 2
  dimension "d321" = 2
  dimension "d322" = 2
  dimension "d323" = 2
  dimension "d324" = 2
  dimension "d325" = 2
  dimension "d326" = 2
  dimension "d327" = 2
  dimension "d329" = 2
  dimension "d330" = 2
  dimension "d331" = 2
  dimension "d332" = 2.0032
  dimension "d333" = 2
  dimension "d334" = 2
  dimension "d338" = 3.75
  dimension "d339" = 3.75
  dimension "d340" = 3.75
  dimension "d341" = 3.75
  dimension "d342" = 3.75
  dimension "d343" = 3.75
  dimension "d344" = 3.75
  dimension "d345" = 3.75
  dimension "d346" = 3.75
  dimension "d347" = 3.75
  dimension "d348" = 3.75
  dimension "d349" = 3.75
  dimension "d350" = 3.75
  dimension "d351" = 3.75
  dimension "d352" = 1.85
  dimension "d353" = 1.85
  dimension "d354" = 1.85
  dimension "d355" = 1.85
  dimension "d356" = 1.85
  dimension "d357" = 1.85
  dimension "d358" = 1.85
  dimension "d359" = 1.85
  dimension "d360" = 1.85
  dimension "d361" = 1.85
  dimension "d362" = 1.85
  dimension "d363" = 1.85
  dimension "d364" = 1.85
  dimension "d365" = 1.85
extrude "Extrusion8" add sketch "Sketch1" along normal blind 1
properties part number "Ring Finger Part"
